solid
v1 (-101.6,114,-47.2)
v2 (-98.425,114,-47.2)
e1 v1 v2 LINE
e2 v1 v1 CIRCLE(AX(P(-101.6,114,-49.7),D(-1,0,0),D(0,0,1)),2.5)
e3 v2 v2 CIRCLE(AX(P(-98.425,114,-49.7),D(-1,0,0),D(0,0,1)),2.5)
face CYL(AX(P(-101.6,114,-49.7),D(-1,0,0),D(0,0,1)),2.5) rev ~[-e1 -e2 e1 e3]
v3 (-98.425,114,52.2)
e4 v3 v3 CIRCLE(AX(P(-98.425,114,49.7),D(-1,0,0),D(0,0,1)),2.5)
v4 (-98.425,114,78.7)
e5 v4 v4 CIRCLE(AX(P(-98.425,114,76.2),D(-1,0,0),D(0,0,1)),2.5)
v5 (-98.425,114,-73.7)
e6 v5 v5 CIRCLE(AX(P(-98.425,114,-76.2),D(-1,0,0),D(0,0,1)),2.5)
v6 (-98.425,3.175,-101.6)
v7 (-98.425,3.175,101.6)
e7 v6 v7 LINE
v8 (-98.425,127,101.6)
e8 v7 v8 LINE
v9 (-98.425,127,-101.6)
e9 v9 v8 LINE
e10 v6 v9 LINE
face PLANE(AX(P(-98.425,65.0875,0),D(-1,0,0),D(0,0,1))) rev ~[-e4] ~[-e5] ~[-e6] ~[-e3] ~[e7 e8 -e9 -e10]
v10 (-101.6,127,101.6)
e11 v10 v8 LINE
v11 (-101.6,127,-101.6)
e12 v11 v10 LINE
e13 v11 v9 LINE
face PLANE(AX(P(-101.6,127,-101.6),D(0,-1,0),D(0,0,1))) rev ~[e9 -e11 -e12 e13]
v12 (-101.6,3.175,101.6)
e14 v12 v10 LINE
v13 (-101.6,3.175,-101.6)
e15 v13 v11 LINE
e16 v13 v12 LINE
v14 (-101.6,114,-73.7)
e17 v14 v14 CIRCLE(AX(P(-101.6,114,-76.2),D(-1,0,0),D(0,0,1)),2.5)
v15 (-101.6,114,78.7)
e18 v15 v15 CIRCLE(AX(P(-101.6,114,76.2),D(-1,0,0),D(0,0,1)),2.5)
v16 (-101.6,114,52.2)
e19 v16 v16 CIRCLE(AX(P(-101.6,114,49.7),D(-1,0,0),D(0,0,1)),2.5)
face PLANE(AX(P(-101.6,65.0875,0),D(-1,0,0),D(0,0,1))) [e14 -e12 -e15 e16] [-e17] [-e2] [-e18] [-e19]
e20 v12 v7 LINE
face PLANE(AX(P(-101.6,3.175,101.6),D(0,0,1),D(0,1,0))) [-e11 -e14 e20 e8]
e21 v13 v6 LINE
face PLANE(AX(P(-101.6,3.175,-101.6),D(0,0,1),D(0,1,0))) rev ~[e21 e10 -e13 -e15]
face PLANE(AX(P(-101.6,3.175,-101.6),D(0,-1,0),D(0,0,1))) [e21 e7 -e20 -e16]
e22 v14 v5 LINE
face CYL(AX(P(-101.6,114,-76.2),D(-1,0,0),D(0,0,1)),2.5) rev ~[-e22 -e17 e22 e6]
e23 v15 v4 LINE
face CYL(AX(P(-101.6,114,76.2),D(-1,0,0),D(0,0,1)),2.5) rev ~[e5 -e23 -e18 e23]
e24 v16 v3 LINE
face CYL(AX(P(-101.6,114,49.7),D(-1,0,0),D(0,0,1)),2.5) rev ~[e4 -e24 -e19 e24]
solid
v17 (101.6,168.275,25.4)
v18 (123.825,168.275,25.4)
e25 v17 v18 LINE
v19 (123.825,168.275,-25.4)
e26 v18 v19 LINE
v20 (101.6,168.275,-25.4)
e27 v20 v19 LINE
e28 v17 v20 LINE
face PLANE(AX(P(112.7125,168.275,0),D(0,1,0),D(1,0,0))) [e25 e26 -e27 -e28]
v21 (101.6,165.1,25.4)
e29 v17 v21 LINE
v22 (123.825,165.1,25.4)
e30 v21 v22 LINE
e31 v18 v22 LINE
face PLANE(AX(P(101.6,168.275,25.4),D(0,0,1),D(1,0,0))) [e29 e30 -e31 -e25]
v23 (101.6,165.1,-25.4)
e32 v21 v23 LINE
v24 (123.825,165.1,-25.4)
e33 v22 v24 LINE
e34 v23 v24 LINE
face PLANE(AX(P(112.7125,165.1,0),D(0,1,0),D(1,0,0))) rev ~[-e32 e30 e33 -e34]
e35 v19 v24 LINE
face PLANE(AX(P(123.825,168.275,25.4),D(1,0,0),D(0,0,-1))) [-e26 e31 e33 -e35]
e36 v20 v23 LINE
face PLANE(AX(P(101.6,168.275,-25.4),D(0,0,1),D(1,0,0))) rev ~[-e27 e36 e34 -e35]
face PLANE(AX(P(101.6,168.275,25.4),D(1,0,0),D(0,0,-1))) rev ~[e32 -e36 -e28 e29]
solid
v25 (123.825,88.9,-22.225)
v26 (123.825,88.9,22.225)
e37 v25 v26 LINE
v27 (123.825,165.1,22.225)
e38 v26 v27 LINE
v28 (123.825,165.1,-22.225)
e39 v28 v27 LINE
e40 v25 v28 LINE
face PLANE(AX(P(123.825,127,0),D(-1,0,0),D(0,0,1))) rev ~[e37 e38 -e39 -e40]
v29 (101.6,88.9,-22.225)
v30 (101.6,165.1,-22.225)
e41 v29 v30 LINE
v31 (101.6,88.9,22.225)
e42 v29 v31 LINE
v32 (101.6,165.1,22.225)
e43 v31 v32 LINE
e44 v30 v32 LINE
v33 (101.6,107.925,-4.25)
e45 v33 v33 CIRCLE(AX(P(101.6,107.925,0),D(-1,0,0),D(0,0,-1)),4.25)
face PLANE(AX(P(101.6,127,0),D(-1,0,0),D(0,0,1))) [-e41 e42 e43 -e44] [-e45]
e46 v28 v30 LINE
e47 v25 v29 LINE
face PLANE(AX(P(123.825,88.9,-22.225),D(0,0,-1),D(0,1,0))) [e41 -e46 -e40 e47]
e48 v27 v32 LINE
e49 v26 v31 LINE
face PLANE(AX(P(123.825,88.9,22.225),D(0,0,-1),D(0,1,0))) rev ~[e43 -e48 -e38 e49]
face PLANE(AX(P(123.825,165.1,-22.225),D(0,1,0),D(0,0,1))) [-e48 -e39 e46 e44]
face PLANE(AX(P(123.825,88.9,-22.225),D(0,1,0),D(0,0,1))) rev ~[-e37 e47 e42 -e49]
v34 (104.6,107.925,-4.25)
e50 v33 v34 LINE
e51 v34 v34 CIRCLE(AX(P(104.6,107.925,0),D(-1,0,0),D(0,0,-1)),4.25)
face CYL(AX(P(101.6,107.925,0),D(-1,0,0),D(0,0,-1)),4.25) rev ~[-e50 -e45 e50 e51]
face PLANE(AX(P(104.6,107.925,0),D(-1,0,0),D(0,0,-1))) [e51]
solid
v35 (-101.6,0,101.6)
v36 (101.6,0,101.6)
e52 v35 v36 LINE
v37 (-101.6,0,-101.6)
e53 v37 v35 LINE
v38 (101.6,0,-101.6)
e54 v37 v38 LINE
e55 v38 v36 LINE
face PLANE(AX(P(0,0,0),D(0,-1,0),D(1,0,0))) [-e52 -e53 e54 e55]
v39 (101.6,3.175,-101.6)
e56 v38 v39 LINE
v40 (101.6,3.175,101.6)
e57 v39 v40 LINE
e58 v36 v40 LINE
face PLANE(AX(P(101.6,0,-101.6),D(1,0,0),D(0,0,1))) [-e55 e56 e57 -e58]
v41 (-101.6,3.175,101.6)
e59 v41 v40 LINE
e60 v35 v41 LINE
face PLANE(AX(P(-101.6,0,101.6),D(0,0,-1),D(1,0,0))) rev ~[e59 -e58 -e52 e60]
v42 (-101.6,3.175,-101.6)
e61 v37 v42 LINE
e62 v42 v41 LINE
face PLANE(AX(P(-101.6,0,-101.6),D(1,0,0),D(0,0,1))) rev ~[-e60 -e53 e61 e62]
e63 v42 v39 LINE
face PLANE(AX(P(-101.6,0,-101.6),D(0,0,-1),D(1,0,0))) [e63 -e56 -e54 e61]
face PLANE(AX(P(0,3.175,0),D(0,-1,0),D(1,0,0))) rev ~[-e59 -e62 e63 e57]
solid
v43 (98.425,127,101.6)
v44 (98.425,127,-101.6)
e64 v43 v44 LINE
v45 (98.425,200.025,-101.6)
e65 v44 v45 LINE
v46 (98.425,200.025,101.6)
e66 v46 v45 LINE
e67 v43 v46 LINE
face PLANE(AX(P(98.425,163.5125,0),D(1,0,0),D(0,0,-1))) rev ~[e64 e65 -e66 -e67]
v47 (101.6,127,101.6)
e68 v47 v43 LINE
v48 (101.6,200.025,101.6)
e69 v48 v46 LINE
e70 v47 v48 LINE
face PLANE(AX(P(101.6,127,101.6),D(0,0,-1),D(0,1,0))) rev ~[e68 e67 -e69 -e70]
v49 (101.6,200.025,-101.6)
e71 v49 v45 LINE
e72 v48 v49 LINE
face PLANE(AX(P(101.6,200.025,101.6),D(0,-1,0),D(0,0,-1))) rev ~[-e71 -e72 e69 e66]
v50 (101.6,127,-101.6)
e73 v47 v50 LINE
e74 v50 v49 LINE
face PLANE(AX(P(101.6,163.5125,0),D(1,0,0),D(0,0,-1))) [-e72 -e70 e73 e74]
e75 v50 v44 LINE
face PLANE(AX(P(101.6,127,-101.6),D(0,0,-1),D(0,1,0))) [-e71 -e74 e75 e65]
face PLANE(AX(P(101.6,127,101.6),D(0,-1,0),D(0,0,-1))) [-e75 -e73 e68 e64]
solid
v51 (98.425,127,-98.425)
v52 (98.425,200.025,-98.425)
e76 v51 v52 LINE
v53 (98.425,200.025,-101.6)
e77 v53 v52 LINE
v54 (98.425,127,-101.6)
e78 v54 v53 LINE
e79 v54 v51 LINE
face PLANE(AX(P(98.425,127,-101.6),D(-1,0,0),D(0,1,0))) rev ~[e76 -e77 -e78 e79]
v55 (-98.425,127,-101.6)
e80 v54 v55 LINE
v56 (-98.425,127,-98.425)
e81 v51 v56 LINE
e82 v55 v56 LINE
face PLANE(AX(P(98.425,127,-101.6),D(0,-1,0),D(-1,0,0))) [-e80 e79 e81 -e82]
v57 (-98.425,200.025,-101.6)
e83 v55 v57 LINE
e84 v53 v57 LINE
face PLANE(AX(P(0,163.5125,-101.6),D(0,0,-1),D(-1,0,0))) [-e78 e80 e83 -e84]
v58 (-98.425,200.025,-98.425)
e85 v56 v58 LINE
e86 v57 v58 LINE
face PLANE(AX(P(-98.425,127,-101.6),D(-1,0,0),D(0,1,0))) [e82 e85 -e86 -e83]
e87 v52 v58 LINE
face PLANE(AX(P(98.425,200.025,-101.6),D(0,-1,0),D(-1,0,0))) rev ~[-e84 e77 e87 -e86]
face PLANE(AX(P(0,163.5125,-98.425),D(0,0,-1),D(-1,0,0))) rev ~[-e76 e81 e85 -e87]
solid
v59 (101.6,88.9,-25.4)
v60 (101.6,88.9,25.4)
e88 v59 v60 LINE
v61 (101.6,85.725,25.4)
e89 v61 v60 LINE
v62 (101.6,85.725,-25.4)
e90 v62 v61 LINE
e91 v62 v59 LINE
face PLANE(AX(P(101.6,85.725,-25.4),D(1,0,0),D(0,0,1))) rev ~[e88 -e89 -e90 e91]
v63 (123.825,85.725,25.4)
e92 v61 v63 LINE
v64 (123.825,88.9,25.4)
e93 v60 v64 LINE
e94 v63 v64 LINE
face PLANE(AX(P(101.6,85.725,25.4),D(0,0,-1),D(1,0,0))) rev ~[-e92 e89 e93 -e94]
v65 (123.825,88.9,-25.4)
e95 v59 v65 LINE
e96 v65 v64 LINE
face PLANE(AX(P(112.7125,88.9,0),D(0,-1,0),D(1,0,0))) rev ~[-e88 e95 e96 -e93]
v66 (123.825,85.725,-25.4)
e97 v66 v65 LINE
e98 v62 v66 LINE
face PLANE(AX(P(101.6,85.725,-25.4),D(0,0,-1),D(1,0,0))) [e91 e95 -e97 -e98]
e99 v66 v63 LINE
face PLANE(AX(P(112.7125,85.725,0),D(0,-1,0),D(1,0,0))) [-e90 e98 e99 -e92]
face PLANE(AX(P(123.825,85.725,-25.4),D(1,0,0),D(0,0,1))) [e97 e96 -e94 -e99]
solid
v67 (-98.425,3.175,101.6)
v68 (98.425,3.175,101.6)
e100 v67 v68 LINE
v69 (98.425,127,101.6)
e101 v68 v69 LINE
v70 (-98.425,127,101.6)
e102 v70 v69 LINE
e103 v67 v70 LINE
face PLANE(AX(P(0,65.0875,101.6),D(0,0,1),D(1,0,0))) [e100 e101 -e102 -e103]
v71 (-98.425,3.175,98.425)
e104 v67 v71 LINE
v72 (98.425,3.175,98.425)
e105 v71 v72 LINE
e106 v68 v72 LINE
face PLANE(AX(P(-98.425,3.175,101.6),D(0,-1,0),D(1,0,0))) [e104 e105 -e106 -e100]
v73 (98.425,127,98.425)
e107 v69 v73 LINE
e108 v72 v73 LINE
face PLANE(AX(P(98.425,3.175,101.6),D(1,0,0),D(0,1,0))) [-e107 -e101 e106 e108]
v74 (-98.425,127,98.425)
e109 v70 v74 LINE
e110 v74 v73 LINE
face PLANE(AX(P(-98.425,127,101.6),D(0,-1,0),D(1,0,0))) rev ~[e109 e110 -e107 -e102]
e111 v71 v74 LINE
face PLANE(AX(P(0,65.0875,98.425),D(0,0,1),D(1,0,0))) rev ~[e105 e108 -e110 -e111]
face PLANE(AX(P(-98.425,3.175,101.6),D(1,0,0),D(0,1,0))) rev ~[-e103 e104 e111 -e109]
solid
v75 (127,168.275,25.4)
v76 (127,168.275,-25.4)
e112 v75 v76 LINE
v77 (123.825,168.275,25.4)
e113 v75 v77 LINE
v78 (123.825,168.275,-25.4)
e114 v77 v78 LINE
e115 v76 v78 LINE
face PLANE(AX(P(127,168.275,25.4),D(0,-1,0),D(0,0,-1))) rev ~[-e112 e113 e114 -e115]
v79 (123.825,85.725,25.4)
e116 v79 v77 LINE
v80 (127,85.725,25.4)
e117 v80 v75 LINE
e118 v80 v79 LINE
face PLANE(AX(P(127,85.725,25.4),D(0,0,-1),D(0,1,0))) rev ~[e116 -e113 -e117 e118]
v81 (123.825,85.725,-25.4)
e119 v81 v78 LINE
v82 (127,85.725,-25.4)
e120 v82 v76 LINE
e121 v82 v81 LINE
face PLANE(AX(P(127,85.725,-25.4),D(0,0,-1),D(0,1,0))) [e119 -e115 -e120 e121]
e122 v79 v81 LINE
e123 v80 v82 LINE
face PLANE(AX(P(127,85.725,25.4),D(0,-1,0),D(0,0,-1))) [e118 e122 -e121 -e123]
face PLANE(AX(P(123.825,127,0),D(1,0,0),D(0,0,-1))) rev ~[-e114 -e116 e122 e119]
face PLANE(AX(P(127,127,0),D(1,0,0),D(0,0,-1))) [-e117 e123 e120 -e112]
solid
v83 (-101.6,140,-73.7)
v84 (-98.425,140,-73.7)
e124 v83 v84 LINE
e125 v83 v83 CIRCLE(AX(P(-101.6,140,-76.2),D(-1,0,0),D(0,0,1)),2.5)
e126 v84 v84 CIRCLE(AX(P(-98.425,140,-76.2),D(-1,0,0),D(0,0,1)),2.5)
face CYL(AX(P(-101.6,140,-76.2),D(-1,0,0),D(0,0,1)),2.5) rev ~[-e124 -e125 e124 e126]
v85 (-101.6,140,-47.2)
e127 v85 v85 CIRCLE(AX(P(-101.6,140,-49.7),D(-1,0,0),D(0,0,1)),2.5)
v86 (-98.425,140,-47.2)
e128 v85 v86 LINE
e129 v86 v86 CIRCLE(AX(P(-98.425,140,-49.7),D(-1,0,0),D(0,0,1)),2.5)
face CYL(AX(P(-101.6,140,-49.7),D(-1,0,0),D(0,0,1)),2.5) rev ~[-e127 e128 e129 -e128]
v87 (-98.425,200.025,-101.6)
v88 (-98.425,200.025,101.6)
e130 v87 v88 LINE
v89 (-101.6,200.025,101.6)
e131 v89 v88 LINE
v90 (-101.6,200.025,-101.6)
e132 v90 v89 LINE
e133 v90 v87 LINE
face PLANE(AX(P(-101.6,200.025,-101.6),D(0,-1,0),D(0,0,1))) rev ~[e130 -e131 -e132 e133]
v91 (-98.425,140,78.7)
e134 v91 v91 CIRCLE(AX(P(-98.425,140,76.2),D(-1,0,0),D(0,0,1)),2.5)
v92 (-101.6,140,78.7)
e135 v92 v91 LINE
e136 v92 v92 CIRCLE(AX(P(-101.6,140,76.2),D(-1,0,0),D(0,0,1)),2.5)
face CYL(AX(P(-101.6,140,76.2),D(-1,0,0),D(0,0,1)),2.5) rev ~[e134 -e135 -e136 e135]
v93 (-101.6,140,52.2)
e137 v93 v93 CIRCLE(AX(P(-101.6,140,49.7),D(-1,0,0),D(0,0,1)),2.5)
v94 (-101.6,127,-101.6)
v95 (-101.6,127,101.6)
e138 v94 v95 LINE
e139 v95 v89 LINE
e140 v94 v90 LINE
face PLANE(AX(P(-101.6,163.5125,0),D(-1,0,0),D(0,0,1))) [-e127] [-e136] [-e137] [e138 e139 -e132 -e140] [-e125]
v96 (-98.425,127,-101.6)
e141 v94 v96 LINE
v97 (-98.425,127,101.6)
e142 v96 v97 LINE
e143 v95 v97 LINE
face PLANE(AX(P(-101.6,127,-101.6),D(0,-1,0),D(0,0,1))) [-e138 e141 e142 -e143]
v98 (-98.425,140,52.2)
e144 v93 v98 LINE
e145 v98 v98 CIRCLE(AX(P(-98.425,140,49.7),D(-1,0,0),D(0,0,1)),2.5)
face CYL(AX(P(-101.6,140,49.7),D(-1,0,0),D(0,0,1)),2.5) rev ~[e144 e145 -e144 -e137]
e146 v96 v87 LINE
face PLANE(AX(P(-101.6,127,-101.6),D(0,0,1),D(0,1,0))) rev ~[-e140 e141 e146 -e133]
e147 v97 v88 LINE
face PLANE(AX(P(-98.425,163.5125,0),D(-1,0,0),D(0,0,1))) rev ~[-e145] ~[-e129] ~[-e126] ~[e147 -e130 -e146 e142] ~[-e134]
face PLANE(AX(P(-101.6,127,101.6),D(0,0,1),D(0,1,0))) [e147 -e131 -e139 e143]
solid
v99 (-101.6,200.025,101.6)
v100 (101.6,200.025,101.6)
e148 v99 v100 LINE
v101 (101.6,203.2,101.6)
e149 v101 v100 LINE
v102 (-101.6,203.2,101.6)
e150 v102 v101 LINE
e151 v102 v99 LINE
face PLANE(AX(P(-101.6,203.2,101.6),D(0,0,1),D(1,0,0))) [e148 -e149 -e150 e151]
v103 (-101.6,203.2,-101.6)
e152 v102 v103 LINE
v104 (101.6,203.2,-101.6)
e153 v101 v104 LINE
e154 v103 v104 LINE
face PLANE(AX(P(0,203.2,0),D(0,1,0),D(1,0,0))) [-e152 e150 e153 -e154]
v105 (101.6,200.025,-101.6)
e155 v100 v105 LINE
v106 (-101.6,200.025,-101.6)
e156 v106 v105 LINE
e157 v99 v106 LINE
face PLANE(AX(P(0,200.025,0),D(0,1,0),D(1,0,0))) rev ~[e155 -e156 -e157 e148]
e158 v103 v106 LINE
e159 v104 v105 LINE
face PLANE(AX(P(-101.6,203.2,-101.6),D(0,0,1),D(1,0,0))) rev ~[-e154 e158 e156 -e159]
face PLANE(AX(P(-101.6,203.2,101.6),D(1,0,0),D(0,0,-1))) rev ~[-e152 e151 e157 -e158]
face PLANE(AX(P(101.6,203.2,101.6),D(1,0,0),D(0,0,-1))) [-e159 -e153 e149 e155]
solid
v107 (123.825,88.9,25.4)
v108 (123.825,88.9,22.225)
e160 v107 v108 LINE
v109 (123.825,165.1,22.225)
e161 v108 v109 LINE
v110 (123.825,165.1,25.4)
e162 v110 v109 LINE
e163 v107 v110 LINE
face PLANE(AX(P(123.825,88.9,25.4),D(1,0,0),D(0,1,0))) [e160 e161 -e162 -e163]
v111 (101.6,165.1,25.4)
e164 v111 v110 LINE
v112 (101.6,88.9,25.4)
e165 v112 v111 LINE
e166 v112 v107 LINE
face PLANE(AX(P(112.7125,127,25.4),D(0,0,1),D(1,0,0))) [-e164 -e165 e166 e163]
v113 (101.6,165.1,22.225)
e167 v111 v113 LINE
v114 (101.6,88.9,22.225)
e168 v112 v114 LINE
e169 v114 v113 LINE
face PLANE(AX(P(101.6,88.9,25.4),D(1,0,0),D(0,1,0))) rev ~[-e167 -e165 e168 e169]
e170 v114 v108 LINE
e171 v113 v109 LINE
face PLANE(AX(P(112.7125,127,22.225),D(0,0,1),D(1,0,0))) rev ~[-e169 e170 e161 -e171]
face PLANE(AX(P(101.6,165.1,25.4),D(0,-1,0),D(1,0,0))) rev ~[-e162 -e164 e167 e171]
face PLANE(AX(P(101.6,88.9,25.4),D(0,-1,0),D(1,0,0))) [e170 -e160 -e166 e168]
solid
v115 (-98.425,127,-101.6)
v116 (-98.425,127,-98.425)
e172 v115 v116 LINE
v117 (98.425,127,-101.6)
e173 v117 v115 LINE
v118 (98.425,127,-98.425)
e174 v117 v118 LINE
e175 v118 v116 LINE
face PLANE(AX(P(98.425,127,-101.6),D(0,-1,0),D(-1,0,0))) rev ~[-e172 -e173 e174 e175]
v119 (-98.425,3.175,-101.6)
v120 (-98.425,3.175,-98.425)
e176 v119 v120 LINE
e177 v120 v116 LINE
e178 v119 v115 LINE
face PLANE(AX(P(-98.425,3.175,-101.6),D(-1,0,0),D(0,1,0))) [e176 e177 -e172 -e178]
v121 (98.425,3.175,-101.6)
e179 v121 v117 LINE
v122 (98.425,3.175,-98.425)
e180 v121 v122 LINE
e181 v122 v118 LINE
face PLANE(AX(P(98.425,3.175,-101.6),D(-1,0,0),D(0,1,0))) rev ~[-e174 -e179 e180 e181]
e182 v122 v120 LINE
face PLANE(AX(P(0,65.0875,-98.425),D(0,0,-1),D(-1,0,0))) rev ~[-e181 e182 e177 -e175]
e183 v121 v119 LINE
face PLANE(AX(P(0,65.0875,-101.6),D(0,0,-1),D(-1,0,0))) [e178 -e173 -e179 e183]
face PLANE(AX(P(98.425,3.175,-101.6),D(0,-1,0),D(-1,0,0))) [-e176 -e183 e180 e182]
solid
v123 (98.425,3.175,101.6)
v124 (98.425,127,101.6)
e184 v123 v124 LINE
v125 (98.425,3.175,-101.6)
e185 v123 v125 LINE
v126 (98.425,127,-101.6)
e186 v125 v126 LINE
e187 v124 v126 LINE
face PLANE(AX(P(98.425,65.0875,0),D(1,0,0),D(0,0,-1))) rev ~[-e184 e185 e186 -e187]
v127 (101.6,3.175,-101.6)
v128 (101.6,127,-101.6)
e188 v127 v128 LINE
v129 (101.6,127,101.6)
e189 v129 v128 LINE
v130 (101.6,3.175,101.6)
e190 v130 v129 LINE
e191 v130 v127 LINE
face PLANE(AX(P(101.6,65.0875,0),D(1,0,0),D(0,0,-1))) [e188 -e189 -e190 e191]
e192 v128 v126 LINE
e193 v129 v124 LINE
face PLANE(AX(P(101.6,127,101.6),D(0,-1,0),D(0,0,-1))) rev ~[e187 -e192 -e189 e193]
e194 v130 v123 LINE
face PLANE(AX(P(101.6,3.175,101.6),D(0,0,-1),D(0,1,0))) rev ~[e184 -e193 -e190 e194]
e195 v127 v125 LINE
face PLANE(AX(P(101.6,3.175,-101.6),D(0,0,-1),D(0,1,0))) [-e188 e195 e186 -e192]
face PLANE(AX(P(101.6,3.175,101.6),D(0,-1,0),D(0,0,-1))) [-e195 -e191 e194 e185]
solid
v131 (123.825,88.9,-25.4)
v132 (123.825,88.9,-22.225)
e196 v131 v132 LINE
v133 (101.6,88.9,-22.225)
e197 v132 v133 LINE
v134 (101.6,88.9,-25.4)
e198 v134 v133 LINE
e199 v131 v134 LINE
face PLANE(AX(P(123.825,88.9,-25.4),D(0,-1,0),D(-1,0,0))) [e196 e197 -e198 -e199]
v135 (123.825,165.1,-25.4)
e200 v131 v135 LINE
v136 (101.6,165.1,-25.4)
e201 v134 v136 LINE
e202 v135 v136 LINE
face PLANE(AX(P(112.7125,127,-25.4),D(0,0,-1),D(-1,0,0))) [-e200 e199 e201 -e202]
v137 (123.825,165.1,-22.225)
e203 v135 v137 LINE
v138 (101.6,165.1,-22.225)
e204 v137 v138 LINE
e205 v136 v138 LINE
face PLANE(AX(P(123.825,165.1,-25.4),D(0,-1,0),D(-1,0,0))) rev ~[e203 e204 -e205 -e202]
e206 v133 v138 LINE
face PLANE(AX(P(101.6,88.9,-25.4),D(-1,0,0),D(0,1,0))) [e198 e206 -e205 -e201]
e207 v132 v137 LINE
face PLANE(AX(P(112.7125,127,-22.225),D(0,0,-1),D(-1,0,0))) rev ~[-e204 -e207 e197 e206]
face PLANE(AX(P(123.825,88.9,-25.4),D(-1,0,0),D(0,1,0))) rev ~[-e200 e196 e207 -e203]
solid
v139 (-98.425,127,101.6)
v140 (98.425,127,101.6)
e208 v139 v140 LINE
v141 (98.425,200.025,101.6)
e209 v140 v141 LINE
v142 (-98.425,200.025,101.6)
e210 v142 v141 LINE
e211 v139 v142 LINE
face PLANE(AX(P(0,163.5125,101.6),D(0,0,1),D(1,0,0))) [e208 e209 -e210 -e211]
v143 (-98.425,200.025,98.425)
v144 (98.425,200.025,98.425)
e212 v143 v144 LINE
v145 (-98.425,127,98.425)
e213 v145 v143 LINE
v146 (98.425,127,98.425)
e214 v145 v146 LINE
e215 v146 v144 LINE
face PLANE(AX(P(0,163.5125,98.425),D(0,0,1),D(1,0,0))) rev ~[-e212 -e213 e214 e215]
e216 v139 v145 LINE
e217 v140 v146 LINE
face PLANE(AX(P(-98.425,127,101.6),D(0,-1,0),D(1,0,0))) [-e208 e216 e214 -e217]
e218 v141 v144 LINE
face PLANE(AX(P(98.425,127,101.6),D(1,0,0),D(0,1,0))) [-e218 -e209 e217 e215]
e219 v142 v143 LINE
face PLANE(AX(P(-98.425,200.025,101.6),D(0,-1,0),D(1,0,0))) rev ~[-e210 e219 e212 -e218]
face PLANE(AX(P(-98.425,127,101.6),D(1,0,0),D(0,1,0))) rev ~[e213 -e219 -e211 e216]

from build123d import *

# Parameters (mm, degrees)
SKETCH1_W            = 203.2
SKETCH1_H            = 203.2
BOSS_EXTRUDE1_DEPTH  = 127
SKETCH2_W            = 190.5
SKETCH2_H            = 190.5
CUT_EXTRUDE1_DEPTH   = 120.65
SKETCH3_W            = 203.2
SKETCH3_H            = 203.2
BOSS_EXTRUDE2_DEPTH  = 76.2
CUT_EXTRUDE2_START   = -6.35
SKETCH5_W            = 190.5
SKETCH5_H            = 190.5
CUT_EXTRUDE2_DEPTH   = 69.85
BOSS_EXTRUDE3_START  = 101.6
SKETCH6_W            = 50.8
SKETCH6_H            = 82.55
BOSS_EXTRUDE3_DEPTH  = 25.4
SKETCH7_R            = 2.499999953
CUT_EXTRUDE3_DEPTH   = 6.35
SKETCH9_W            = 38.1
SKETCH9_H            = 69.85
CUT_EXTRUDE4_DEPTH   = 19.05
BOSS_EXTRUDE4_START  = -3.175
SKETCH10_W           = 44.45
SKETCH10_H           = 76.2
BOSS_EXTRUDE4_DEPTH  = 22.225
SKETCH15_W           = 50.8
SKETCH15_H           = 82.55
BOSS_EXTRUDE5_DEPTH  = 3.175
SKETCH16_W           = 22.225
SKETCH16_H           = 50.8
BOSS_EXTRUDE7_DEPTH  = 3.175
SKETCH18_W           = 22.225
SKETCH18_H           = 50.8
BOSS_EXTRUDE8_DEPTH  = 3.175
SKETCH13_R           = 4.25
CUT_EXTRUDE6_DEPTH   = 3
SKETCH21_W           = 22.225
SKETCH21_H           = 76.2
BOSS_EXTRUDE13_DEPTH = 3.175
SKETCH22_W           = 203.2
SKETCH22_H           = 203.2
BOSS_EXTRUDE14_DEPTH = 3.175
SKETCH23_W           = 203.2
SKETCH23_H           = 73.025
BOSS_EXTRUDE16_DEPTH = 3.175
SKETCH24_W           = 203.2
SKETCH24_H           = 73.025
SKETCH24_R           = 2.499999953
BOSS_EXTRUDE17_DEPTH = 3.175
SKETCH25_W           = 196.85
SKETCH25_H           = 73.025
BOSS_EXTRUDE18_DEPTH = 3.175
SKETCH26_W           = 196.85
SKETCH26_H           = 73.025
BOSS_EXTRUDE19_DEPTH = 3.175
SKETCH27_W           = 203.2
SKETCH27_H           = 203.2
BOSS_EXTRUDE20_DEPTH = 3.175
SKETCH28_W           = 203.2
SKETCH28_H           = 123.825
BOSS_EXTRUDE21_DEPTH = 3.175
SKETCH29_W           = 203.2
SKETCH29_H           = 123.825
SKETCH29_R           = 2.499999953
BOSS_EXTRUDE22_DEPTH = 3.175
SKETCH30_W           = 196.85
SKETCH30_H           = 123.825
BOSS_EXTRUDE23_DEPTH = 3.175
SKETCH31_W           = 196.85
SKETCH31_H           = 123.825
BOSS_EXTRUDE24_DEPTH = 3.175
SKETCH19_W           = 22.225
SKETCH19_H           = 76.2
BOSS_EXTRUDE26_DEPTH = 3.175


with BuildPart() as part:
    # Sketch1 → Boss-Extrude1 (new body)
    with BuildSketch(Plane(origin=(0, 0, 0), x_dir=(1, 0, 0), z_dir=(0, 1, 0))):
        Rectangle(SKETCH1_W, SKETCH1_H)
    extrude(amount=BOSS_EXTRUDE1_DEPTH)

    # Sketch2 → Cut-Extrude1 (cut)
    with BuildSketch(Plane(origin=(0, 127, 0), x_dir=(1, 0, 0), z_dir=(0, 1, 0))):
        Rectangle(SKETCH2_W, SKETCH2_H)
    extrude(amount=-CUT_EXTRUDE1_DEPTH, mode=Mode.SUBTRACT)


with BuildPart() as body_2:
    # Sketch3 → Boss-Extrude2 (new body)
    with BuildSketch(Plane(origin=(0, 127, 0), x_dir=(1, 0, 0), z_dir=(0, 1, 0))):
        Rectangle(SKETCH3_W, SKETCH3_H)
    extrude(amount=BOSS_EXTRUDE2_DEPTH)

    # Sketch5 → Cut-Extrude2 (cut)
    with BuildSketch(Plane(origin=(0, 203.2, 0), x_dir=(1, 0, 0), z_dir=(0, 1, 0)).offset(CUT_EXTRUDE2_START)):
        Rectangle(SKETCH5_W, SKETCH5_H)
    extrude(amount=-CUT_EXTRUDE2_DEPTH, mode=Mode.SUBTRACT)

    # Sketch7 → Cut-Extrude3 (cut)
    with BuildSketch(Plane.ZY.offset(101.6)):
        with Locations((-76.2, 139.999999908)):
            Circle(SKETCH7_R)
        with Locations((-49.699999914, 139.999999908)):
            Circle(SKETCH7_R)
        with Locations((49.699999914, 139.999999908)):
            Circle(SKETCH7_R)
        with Locations((76.2, 139.999999908)):
            Circle(SKETCH7_R)
    cut_extrude3 = extrude(amount=-CUT_EXTRUDE3_DEPTH, mode=Mode.SUBTRACT)


with BuildPart() as body_3:
    # Sketch6 → Boss-Extrude3 (new body)
    with BuildSketch(Plane(origin=(0, 0, 0), x_dir=(0, 0, -1), z_dir=(1, 0, 0)).offset(BOSS_EXTRUDE3_START)):
        with Locations((0, 127)):
            Rectangle(SKETCH6_W, SKETCH6_H)
    extrude(amount=BOSS_EXTRUDE3_DEPTH)

    # Sketch9 → Cut-Extrude4 (cut)
    with BuildSketch(Plane.ZY.offset(-101.6)):
        with Locations((0, 127)):
            Rectangle(SKETCH9_W, SKETCH9_H)
    extrude(amount=-CUT_EXTRUDE4_DEPTH, mode=Mode.SUBTRACT)


with BuildPart() as part_1:
    add(part.part)

    # Mirror4: Cut-Extrude3 across plane
    add(cut_extrude3.mirror(Plane(origin=(0, 127, 0), x_dir=(0, 0, 1), z_dir=(0, -1, 0))), mode=Mode.SUBTRACT)


with BuildPart() as body_4:
    # Sketch10 → Boss-Extrude4 (new body)
    with BuildSketch(Plane.ZY.offset(-120.65).offset(BOSS_EXTRUDE4_START)):
        with Locations((0, 127)):
            Rectangle(SKETCH10_W, SKETCH10_H)
    extrude(amount=BOSS_EXTRUDE4_DEPTH)

    # Sketch13 → Cut-Extrude6 (cut)
    with BuildSketch(Plane.ZY.offset(-101.6)):
        with Locations(Location((0, 107.925, 0), (0, 0, 180))):
            Circle(SKETCH13_R)
    extrude(amount=-CUT_EXTRUDE6_DEPTH, mode=Mode.SUBTRACT)


with BuildPart() as body_5:
    # Sketch15 → Boss-Extrude5 (new body)
    with BuildSketch(Plane(origin=(127, 0, 0), x_dir=(0, 0, -1), z_dir=(1, 0, 0))):
        with Locations((0, 127)):
            Rectangle(SKETCH15_W, SKETCH15_H)
    extrude(amount=-BOSS_EXTRUDE5_DEPTH)


with BuildPart() as body_6:
    # Sketch16 → Boss-Extrude7 (new body)
    with BuildSketch(Plane(origin=(0, 168.275, 0), x_dir=(1, 0, 0), z_dir=(0, 1, 0))):
        with Locations((112.7125, 0)):
            Rectangle(SKETCH16_W, SKETCH16_H)
    extrude(amount=-BOSS_EXTRUDE7_DEPTH)


with BuildPart() as body_7:
    # Sketch18 → Boss-Extrude8 (new body)
    with BuildSketch(Plane.XZ.offset(-85.725)):
        with Locations((112.7125, 0)):
            Rectangle(SKETCH18_W, SKETCH18_H)
    extrude(amount=-BOSS_EXTRUDE8_DEPTH)


with BuildPart() as body_8:
    # Sketch21 → Boss-Extrude13 (new body)
    with BuildSketch(Plane(origin=(0, 0, -25.4), x_dir=(-1, 0, 0), z_dir=(0, 0, -1))):
        with Locations((-112.7125, 127)):
            Rectangle(SKETCH21_W, SKETCH21_H)
    extrude(amount=-BOSS_EXTRUDE13_DEPTH)


with BuildPart() as body_8_2:
    # Sketch22 → Boss-Extrude14 (new body)
    with BuildSketch(Plane(origin=(0, 203.2, 0), x_dir=(1, 0, 0), z_dir=(0, 1, 0))):
        Rectangle(SKETCH22_W, SKETCH22_H)
    extrude(amount=-BOSS_EXTRUDE14_DEPTH)


with BuildPart() as body_9:
    # Sketch23 → Boss-Extrude16 (new body)
    with BuildSketch(Plane(origin=(101.6, 0, 0), x_dir=(0, 0, -1), z_dir=(1, 0, 0))):
        with Locations((0, 163.5125)):
            Rectangle(SKETCH23_W, SKETCH23_H)
    extrude(amount=-BOSS_EXTRUDE16_DEPTH)


with BuildPart() as body_10:
    # Sketch24 → Boss-Extrude17 (new body)
    with BuildSketch(Plane.ZY.offset(101.6)):
        with Locations((0, 163.5125)):
            Rectangle(SKETCH24_W, SKETCH24_H)
        with Locations((76.2, 139.999999908)):
            Circle(SKETCH24_R, mode=Mode.SUBTRACT)
        with Locations((49.699999914, 139.999999908)):
            Circle(SKETCH24_R, mode=Mode.SUBTRACT)
        with Locations((-49.699999914, 139.999999908)):
            Circle(SKETCH24_R, mode=Mode.SUBTRACT)
        with Locations((-76.2, 139.999999908)):
            Circle(SKETCH24_R, mode=Mode.SUBTRACT)
    extrude(amount=-BOSS_EXTRUDE17_DEPTH)


with BuildPart() as body_11:
    # Sketch25 → Boss-Extrude18 (new body)
    with BuildSketch(Plane.XY.offset(101.6)):
        with Locations((0, 163.5125)):
            Rectangle(SKETCH25_W, SKETCH25_H)
    extrude(amount=-BOSS_EXTRUDE18_DEPTH)


with BuildPart() as body_12:
    # Sketch26 → Boss-Extrude19 (new body)
    with BuildSketch(Plane(origin=(0, 0, -101.6), x_dir=(-1, 0, 0), z_dir=(0, 0, -1))):
        with Locations((0, 163.5125)):
            Rectangle(SKETCH26_W, SKETCH26_H)
    extrude(amount=-BOSS_EXTRUDE19_DEPTH)


with BuildPart() as body_12_2:
    # Sketch27 → Boss-Extrude20 (new body)
    with BuildSketch(Plane.XZ):
        Rectangle(SKETCH27_W, SKETCH27_H)
    extrude(amount=-BOSS_EXTRUDE20_DEPTH)


with BuildPart() as body_13:
    # Sketch28 → Boss-Extrude21 (new body)
    with BuildSketch(Plane(origin=(101.6, 0, 0), x_dir=(0, 0, -1), z_dir=(1, 0, 0))):
        with Locations((0, 65.0875)):
            Rectangle(SKETCH28_W, SKETCH28_H)
    extrude(amount=-BOSS_EXTRUDE21_DEPTH)


with BuildPart() as body_14:
    # Sketch29 → Boss-Extrude22 (new body)
    with BuildSketch(Plane.ZY.offset(101.6)):
        with Locations((0, 65.0875)):
            Rectangle(SKETCH29_W, SKETCH29_H)
        with Locations((76.2, 114.000000092)):
            Circle(SKETCH29_R, mode=Mode.SUBTRACT)
        with Locations((49.699999914, 114.000000092)):
            Circle(SKETCH29_R, mode=Mode.SUBTRACT)
        with Locations((-49.699999914, 114.000000092)):
            Circle(SKETCH29_R, mode=Mode.SUBTRACT)
        with Locations((-76.2, 114.000000092)):
            Circle(SKETCH29_R, mode=Mode.SUBTRACT)
    extrude(amount=-BOSS_EXTRUDE22_DEPTH)


with BuildPart() as body_15:
    # Sketch30 → Boss-Extrude23 (new body)
    with BuildSketch(Plane.XY.offset(101.6)):
        with Locations((0, 65.0875)):
            Rectangle(SKETCH30_W, SKETCH30_H)
    extrude(amount=-BOSS_EXTRUDE23_DEPTH)


with BuildPart() as body_16:
    # Sketch31 → Boss-Extrude24 (new body)
    with BuildSketch(Plane(origin=(0, 0, -101.6), x_dir=(-1, 0, 0), z_dir=(0, 0, -1))):
        with Locations((0, 65.0875)):
            Rectangle(SKETCH31_W, SKETCH31_H)
    extrude(amount=-BOSS_EXTRUDE24_DEPTH)


with BuildPart() as body_16_2:
    # Sketch19 → Boss-Extrude26 (new body)
    with BuildSketch(Plane.XY.offset(25.4)):
        with Locations((112.7125, 127)):
            Rectangle(SKETCH19_W, SKETCH19_H)
    extrude(amount=-BOSS_EXTRUDE26_DEPTH)


solid = Compound([body_4.part, body_5.part, body_6.part, body_7.part, body_8.part, body_8_2.part, body_9.part, body_10.part, body_11.part, body_12.part, body_12_2.part, body_13.part, body_14.part, body_15.part, body_16.part, body_16_2.part])
